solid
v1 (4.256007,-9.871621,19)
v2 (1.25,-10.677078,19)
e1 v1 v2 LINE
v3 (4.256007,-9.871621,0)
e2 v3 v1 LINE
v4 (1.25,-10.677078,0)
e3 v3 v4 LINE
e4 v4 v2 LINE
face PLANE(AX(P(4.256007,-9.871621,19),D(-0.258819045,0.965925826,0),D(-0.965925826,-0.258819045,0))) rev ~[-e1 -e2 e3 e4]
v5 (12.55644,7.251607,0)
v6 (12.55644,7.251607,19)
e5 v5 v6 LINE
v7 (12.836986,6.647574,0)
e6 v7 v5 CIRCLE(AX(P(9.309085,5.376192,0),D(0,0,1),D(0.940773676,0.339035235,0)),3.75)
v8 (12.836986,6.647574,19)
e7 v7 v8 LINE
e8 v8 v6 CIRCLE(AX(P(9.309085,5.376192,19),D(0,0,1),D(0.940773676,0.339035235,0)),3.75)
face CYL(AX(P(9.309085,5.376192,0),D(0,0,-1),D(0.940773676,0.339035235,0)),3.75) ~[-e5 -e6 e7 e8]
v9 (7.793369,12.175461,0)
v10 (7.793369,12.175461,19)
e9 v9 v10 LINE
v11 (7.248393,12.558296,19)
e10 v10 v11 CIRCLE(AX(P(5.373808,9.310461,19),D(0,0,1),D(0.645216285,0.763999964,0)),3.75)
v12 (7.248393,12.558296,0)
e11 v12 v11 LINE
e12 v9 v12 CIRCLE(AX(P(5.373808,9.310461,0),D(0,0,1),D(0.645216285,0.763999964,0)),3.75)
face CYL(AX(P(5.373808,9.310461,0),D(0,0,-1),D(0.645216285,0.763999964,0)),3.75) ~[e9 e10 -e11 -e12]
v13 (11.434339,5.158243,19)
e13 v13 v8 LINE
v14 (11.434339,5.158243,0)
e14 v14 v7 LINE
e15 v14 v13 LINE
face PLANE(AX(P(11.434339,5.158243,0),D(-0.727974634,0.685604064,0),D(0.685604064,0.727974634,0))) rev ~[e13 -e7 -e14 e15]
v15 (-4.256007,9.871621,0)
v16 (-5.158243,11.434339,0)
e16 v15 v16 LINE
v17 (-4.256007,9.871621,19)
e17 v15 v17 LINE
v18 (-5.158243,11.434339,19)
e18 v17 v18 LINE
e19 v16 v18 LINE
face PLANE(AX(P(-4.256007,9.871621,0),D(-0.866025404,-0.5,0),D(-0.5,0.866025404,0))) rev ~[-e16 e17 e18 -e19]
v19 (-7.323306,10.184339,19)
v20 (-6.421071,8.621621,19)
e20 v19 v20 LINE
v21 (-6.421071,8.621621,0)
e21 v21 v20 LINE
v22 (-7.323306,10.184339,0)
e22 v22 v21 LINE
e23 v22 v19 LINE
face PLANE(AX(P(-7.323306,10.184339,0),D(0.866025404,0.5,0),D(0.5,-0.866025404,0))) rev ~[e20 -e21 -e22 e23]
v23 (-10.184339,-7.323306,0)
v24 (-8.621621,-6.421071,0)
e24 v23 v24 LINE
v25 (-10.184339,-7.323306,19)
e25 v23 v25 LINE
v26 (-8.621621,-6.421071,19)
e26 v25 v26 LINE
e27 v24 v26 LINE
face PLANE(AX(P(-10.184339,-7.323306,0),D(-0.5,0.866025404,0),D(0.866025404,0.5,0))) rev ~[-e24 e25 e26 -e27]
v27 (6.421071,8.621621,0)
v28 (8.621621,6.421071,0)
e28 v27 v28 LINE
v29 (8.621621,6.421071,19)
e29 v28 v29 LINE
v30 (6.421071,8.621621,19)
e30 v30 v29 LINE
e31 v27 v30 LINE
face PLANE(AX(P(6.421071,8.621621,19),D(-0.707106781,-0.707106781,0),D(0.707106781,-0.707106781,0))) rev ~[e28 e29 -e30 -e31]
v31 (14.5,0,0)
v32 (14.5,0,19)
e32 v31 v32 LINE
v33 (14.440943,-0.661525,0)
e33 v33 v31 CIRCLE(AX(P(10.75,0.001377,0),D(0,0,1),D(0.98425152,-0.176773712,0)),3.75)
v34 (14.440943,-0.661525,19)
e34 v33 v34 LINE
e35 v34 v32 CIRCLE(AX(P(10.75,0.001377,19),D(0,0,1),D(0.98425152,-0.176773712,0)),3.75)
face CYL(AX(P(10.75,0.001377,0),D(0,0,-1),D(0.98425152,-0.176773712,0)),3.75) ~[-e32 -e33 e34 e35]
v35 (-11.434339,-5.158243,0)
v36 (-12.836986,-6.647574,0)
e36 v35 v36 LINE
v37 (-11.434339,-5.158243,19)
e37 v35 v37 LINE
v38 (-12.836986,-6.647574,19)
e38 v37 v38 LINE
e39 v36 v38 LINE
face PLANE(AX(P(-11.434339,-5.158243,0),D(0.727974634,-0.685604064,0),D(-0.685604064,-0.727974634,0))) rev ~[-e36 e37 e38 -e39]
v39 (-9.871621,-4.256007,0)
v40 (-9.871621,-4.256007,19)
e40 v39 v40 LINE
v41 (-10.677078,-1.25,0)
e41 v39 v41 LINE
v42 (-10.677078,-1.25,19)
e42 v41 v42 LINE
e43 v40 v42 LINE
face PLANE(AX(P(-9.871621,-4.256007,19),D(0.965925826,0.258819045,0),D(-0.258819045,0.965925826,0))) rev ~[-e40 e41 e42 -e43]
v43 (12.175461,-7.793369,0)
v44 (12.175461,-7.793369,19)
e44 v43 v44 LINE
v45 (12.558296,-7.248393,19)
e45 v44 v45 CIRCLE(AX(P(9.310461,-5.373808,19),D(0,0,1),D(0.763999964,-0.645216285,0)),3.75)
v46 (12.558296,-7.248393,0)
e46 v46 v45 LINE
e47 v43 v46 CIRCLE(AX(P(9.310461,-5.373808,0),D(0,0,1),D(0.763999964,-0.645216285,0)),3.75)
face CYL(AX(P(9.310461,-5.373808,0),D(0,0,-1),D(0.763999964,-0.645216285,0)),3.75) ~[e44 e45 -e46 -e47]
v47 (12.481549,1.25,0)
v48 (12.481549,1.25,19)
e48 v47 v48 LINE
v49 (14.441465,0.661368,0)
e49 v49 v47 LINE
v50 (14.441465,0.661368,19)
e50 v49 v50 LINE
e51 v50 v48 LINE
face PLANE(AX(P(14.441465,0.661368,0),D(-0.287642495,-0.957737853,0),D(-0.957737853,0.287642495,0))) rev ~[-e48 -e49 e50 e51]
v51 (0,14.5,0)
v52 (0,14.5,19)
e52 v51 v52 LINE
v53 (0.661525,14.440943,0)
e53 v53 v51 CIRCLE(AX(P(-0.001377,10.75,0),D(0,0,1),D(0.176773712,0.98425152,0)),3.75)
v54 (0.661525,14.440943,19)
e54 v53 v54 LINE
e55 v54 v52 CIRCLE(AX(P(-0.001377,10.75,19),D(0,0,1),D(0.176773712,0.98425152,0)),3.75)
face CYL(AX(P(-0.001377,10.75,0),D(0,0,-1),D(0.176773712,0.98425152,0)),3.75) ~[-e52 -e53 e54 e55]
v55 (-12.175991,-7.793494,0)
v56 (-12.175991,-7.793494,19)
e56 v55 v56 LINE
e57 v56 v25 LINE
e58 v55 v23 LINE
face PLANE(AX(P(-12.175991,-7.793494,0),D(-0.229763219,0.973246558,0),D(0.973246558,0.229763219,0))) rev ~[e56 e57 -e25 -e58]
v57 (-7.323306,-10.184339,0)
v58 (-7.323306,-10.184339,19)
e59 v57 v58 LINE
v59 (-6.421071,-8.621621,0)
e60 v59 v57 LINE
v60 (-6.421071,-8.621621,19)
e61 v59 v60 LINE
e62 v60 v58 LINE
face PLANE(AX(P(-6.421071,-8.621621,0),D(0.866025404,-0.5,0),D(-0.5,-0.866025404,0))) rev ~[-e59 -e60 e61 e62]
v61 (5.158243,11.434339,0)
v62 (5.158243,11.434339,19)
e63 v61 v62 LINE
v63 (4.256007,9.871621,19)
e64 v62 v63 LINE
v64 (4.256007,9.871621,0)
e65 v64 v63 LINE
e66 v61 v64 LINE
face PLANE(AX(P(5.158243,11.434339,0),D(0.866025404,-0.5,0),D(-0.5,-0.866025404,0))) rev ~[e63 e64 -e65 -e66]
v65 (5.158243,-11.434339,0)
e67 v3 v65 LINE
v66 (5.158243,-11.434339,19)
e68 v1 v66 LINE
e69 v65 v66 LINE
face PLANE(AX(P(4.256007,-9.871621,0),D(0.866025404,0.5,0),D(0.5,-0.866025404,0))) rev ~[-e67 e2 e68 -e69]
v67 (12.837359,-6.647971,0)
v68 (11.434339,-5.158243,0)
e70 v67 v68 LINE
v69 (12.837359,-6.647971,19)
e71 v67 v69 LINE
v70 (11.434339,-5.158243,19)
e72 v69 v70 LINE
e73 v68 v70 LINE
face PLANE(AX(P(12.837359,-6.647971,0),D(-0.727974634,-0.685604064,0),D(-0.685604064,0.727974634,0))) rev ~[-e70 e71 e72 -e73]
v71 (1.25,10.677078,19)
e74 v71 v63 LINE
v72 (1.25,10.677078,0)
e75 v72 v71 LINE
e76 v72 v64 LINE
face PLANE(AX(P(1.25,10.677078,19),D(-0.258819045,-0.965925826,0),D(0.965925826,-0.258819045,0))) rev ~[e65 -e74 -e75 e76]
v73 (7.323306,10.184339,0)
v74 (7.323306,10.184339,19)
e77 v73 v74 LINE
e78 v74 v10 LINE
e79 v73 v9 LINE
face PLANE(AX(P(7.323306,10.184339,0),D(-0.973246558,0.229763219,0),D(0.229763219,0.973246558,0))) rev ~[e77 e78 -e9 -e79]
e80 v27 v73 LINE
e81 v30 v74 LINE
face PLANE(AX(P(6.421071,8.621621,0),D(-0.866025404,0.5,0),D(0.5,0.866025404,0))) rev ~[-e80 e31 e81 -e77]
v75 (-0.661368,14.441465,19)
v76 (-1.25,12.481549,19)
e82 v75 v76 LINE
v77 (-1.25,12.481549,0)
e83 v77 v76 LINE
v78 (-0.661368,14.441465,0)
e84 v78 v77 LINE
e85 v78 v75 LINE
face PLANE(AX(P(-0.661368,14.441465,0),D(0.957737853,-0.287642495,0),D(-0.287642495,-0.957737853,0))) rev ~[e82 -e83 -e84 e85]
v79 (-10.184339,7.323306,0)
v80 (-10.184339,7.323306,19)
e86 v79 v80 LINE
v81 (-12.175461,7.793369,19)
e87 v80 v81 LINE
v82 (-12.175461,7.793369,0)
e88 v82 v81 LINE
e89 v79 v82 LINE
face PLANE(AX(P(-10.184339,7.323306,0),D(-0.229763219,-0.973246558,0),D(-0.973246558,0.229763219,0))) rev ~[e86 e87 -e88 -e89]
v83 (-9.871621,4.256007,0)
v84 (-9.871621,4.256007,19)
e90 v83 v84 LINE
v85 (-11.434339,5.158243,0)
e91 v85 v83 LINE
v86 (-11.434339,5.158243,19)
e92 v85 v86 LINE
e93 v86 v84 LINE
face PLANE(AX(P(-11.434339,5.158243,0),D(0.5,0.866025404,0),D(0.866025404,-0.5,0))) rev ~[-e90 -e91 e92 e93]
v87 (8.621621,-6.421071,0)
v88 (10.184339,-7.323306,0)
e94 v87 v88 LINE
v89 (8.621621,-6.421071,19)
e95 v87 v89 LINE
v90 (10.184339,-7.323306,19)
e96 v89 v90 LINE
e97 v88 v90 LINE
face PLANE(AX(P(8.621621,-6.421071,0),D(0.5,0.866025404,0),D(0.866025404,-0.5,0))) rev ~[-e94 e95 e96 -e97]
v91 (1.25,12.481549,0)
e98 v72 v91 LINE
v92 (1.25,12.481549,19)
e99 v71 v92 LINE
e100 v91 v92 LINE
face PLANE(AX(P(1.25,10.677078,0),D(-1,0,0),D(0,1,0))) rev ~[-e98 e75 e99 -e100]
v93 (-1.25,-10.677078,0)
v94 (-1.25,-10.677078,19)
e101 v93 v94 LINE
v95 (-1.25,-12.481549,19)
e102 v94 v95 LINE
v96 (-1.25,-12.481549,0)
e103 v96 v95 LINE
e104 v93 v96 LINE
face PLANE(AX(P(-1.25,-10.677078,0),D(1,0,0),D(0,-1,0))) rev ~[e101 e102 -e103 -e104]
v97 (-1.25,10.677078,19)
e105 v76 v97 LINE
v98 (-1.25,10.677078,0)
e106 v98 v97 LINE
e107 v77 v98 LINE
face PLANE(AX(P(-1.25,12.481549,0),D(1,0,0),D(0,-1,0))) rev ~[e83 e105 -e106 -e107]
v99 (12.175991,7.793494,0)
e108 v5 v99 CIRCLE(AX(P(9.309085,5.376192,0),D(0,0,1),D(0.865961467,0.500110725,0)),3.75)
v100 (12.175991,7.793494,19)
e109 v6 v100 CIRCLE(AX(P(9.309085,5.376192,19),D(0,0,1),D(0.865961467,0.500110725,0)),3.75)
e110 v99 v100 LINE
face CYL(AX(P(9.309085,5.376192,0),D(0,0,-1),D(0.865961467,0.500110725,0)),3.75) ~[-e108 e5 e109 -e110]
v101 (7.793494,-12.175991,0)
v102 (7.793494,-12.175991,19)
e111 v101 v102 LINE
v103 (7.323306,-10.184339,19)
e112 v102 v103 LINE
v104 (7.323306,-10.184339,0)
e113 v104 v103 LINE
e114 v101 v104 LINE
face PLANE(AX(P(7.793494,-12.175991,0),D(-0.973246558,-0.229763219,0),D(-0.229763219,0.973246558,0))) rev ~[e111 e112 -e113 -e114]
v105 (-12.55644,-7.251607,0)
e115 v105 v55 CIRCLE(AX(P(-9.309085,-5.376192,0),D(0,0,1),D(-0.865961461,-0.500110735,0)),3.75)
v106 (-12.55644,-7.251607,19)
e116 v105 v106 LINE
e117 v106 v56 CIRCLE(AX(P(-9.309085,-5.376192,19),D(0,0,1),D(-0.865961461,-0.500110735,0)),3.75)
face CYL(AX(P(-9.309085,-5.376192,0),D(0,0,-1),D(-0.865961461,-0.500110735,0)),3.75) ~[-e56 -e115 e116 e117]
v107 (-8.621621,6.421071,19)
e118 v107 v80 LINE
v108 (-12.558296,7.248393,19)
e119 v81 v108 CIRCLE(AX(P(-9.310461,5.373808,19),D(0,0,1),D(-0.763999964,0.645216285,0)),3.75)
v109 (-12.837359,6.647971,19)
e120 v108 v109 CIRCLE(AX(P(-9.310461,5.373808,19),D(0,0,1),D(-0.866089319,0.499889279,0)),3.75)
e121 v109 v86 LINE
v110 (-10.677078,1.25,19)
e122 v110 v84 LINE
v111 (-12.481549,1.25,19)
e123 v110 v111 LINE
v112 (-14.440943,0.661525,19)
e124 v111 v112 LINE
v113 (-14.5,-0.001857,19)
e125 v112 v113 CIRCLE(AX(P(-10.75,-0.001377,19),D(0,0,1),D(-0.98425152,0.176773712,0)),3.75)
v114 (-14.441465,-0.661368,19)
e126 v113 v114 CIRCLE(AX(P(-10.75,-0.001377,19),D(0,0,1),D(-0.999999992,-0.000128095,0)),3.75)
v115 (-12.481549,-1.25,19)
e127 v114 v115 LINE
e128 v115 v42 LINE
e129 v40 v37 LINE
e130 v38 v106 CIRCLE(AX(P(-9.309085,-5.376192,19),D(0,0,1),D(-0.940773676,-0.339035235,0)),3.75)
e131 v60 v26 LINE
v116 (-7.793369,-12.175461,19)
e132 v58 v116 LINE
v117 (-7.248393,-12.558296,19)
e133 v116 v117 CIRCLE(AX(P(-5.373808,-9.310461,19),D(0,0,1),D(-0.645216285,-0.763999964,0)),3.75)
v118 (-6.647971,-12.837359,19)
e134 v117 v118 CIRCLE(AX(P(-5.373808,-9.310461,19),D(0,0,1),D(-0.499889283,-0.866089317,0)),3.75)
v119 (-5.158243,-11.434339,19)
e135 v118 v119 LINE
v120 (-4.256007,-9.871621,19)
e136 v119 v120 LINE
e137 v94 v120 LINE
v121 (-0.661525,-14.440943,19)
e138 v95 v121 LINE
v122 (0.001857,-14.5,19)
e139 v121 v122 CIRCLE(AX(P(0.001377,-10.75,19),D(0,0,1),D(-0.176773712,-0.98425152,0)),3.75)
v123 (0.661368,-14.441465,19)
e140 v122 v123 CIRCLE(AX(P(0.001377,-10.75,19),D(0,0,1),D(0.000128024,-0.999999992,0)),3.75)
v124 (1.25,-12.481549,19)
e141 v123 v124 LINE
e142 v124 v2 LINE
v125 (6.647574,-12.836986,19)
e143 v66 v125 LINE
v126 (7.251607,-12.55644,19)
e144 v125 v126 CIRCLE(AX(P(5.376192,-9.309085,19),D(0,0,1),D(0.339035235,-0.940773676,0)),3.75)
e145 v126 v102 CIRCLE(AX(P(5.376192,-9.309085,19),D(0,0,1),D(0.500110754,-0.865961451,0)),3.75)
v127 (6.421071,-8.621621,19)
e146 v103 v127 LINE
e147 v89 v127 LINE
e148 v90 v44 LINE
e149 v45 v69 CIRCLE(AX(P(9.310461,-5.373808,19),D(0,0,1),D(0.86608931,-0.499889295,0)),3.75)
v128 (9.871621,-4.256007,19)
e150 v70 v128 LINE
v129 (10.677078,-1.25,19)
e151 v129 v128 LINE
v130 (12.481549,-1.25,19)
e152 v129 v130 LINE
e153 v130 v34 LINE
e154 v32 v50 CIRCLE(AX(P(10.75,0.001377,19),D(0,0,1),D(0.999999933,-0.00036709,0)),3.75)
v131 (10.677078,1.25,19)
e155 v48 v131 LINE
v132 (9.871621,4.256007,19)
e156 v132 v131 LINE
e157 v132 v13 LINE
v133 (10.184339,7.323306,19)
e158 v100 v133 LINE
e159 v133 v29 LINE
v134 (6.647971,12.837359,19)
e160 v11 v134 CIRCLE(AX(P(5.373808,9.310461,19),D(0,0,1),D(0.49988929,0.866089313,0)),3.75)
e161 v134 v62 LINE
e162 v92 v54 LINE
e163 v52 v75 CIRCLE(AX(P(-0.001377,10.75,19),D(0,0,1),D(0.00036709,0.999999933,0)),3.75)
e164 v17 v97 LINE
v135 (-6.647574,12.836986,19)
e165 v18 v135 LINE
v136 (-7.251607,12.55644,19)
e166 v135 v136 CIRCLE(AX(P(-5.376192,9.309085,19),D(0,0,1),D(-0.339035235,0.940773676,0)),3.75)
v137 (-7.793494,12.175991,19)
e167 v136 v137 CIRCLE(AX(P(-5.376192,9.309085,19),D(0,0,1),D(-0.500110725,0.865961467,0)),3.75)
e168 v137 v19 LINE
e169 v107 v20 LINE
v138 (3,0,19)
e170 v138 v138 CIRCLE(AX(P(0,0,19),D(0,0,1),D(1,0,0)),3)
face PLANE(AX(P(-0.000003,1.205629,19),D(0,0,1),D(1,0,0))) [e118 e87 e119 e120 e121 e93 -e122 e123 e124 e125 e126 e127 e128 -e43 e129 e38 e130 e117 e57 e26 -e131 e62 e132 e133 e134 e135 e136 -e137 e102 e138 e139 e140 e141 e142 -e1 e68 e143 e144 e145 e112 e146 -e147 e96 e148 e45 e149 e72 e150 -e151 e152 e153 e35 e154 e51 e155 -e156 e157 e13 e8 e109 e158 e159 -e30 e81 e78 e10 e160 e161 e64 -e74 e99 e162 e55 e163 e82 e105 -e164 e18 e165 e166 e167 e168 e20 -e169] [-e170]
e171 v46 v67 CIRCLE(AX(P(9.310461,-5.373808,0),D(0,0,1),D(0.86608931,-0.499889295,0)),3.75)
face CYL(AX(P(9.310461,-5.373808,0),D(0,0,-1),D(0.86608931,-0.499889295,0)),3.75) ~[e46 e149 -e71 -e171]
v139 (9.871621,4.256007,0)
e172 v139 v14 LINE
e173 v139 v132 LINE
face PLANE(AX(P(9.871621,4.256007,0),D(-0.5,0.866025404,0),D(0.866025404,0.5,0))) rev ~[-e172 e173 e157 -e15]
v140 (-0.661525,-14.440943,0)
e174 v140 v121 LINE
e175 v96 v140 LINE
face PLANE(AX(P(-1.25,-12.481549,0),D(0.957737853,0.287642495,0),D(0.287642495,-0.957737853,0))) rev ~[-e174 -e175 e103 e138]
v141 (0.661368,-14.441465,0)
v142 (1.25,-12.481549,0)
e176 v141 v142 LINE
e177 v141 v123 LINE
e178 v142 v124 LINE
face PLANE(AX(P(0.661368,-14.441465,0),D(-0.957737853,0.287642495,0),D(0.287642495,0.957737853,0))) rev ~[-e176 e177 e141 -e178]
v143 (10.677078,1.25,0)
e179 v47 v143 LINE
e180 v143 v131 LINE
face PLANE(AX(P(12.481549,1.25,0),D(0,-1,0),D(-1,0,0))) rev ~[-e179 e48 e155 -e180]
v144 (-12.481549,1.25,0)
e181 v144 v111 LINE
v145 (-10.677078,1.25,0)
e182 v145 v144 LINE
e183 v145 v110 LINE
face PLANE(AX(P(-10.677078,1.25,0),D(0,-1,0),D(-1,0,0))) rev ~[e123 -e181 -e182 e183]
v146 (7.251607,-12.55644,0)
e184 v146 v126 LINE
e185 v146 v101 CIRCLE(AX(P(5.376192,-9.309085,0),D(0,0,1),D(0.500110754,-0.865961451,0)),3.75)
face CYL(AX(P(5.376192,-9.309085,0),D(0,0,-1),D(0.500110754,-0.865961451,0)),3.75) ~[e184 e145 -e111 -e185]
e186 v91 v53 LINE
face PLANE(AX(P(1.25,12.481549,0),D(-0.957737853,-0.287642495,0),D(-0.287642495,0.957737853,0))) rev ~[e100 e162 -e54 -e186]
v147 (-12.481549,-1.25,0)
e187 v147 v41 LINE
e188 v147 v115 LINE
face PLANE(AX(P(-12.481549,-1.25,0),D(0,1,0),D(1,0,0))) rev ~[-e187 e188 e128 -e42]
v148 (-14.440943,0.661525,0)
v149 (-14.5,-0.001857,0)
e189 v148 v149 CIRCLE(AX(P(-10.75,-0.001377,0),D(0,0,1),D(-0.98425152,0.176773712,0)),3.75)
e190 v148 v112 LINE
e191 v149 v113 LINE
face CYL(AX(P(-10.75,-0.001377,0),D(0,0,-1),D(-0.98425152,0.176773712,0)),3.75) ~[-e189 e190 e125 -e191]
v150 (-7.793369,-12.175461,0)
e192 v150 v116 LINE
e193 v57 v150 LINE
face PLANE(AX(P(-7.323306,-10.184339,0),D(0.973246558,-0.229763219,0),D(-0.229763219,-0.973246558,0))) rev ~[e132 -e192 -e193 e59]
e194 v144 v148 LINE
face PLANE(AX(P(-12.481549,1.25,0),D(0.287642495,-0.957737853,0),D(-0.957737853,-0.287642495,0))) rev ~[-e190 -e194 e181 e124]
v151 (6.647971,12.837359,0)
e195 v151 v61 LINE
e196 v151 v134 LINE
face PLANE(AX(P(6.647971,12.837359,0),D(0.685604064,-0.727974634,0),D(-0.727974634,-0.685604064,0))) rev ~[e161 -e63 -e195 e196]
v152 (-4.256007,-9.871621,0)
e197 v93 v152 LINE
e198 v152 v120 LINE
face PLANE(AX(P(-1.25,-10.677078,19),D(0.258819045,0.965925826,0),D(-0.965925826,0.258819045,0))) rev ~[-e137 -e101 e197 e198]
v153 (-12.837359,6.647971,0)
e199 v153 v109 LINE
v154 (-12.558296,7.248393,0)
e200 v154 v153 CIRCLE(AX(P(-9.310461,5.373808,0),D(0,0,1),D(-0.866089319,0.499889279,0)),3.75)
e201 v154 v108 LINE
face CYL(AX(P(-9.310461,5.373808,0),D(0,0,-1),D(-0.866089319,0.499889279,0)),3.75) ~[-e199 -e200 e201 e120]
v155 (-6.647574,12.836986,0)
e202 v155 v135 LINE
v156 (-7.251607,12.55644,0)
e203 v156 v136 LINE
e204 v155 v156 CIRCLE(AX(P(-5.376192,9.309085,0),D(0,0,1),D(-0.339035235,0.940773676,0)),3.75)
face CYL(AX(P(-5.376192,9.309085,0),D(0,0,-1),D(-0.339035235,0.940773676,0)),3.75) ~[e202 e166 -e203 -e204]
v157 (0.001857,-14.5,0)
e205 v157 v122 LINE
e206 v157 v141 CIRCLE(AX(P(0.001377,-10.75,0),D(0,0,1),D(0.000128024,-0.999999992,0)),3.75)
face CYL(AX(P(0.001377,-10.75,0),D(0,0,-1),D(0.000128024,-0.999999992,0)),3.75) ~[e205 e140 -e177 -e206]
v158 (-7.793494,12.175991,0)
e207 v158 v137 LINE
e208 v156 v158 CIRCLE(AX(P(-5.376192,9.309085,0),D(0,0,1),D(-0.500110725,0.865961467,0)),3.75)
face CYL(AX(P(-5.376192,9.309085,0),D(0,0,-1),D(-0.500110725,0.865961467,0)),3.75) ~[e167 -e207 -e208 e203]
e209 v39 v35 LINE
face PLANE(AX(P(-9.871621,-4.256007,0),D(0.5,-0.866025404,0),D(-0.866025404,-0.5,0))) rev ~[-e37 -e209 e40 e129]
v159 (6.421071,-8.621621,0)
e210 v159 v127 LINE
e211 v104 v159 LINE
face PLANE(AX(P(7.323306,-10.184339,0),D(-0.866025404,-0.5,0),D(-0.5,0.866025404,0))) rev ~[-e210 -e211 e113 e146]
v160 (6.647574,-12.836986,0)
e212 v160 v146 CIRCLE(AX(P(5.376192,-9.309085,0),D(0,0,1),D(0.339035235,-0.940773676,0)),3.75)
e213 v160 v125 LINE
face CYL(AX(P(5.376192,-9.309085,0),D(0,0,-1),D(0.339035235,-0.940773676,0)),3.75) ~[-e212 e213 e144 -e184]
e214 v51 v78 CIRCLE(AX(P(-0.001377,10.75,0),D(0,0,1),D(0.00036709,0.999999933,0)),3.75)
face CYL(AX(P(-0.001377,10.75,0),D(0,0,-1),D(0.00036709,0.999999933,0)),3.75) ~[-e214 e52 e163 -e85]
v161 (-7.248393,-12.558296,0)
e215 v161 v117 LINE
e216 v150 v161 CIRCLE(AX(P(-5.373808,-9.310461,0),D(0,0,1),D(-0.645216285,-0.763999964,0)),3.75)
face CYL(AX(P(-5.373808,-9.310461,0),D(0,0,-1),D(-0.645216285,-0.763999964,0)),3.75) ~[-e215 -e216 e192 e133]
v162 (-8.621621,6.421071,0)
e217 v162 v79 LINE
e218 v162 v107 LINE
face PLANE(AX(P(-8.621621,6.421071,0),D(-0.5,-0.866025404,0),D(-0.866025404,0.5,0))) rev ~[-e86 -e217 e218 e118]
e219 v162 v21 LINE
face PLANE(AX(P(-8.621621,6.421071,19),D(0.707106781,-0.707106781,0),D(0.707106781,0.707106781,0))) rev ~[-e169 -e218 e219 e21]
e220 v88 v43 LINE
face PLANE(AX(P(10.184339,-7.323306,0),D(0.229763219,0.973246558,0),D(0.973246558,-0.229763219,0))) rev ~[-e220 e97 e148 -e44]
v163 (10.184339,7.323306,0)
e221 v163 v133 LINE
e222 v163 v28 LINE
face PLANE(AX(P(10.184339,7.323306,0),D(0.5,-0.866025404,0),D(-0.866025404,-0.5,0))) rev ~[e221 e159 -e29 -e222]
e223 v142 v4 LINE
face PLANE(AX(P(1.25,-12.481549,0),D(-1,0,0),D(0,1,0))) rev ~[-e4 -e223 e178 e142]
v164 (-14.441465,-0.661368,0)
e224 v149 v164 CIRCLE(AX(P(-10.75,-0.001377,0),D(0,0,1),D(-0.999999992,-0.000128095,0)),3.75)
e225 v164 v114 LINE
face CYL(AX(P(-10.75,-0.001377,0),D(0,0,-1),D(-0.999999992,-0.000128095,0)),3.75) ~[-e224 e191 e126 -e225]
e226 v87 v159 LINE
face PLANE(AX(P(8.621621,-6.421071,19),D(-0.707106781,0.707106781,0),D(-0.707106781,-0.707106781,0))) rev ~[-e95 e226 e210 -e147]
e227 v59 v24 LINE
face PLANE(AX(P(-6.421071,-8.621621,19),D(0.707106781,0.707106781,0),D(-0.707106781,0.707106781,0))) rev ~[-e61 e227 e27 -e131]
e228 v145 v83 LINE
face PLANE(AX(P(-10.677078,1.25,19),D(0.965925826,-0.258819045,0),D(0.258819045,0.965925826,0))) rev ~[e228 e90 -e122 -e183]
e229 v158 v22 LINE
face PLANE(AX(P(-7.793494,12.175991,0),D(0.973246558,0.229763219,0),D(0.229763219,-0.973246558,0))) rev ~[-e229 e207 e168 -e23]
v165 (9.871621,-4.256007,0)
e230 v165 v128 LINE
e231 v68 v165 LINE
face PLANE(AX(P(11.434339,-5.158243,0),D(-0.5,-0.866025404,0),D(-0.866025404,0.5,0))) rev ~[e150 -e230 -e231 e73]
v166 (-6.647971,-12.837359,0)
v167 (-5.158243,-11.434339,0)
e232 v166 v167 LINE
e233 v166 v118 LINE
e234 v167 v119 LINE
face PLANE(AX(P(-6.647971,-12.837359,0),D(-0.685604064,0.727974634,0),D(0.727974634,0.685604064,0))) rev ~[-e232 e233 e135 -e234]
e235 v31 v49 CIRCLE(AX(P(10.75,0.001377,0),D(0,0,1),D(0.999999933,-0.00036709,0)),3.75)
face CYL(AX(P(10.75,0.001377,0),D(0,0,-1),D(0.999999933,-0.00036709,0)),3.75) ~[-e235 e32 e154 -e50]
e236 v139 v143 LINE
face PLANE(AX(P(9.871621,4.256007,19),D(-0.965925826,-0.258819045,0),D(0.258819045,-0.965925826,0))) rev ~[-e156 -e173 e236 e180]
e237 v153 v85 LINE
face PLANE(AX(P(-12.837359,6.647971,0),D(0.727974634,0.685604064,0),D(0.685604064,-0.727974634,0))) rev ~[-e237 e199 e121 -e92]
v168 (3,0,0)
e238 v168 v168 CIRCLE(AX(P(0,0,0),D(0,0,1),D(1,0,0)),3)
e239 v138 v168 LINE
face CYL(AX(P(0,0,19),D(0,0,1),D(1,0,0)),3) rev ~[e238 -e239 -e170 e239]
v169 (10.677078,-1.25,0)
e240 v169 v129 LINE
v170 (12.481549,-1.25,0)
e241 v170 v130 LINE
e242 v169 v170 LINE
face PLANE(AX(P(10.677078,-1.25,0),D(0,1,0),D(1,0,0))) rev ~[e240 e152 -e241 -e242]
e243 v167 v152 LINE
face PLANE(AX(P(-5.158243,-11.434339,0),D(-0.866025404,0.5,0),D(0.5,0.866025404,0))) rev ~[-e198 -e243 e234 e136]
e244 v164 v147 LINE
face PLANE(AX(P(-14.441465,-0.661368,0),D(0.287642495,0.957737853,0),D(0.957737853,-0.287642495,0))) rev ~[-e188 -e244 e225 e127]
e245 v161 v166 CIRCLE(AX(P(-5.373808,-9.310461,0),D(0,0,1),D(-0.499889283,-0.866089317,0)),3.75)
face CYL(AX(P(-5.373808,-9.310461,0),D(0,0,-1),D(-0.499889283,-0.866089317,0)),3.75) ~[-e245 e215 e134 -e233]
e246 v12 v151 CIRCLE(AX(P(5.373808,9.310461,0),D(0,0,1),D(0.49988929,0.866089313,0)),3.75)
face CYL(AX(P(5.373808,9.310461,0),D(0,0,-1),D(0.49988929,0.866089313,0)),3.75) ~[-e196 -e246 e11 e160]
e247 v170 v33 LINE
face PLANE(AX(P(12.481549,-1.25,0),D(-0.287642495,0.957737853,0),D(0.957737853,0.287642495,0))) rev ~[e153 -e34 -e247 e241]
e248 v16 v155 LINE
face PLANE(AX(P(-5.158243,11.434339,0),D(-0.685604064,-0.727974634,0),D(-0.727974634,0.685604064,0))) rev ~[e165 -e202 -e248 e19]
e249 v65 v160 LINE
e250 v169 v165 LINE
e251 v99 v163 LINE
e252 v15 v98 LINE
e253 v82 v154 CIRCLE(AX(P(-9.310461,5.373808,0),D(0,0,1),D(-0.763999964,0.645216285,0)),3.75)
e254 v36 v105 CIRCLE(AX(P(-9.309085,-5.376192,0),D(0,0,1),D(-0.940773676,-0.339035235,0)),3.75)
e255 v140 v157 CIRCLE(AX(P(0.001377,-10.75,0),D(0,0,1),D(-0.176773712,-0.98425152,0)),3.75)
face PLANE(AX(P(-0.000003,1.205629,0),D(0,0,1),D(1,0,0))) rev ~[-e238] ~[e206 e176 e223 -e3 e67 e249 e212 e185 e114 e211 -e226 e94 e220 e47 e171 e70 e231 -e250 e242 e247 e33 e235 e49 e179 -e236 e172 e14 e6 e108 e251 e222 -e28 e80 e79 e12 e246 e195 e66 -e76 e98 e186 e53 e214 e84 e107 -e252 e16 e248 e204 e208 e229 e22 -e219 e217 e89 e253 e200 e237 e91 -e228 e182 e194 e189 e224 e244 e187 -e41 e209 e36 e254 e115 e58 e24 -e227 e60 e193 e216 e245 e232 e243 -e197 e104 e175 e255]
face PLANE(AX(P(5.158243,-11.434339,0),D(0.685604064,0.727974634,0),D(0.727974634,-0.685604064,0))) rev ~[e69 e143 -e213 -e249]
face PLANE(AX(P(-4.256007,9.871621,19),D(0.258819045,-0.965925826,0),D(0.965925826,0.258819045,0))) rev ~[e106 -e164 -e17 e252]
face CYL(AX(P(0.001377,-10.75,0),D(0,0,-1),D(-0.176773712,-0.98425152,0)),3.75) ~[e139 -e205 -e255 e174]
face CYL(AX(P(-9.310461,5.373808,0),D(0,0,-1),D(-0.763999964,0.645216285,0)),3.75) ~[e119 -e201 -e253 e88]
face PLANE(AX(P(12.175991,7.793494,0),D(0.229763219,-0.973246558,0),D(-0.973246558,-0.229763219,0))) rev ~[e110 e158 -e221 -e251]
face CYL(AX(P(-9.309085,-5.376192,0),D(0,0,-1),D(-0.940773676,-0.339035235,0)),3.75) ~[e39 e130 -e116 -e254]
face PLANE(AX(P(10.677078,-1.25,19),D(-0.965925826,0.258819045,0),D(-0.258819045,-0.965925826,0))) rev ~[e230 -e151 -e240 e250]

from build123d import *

# Parameters (mm, degrees)
F1_DEPTH = 19
F2_R     = 3
F3_DEPTH = 19.001
F5_DEPTH = 19.001


with BuildPart() as f1:
    # F0 (on Top) → F1 (new body)
    with BuildSketch(Plane.XY):
        with BuildLine():
            ThreePointArc((0.6615248327, 14.4409431122), (0.3320724143, 14.4851453928), (-1e-10, 14.4999996592))
            ThreePointArc((-1e-10, 14.4999996592), (-0.3319821514, 14.4853981451), (-0.6613682325, 14.44146453))
            Line((-0.6613682325, 14.44146453), (-1.25, 12.4815492326))
            Line((-1.25, 12.4815492326), (-1.25, 10.677078252))
            ThreePointArc((-1.25, 10.677078252), (-2.7823047349, 10.3837026326), (-4.2560073713, 9.8716210045))
            ThreePointArc((-4.2560073713, 9.8716210045), (-5.375, 9.3097730907), (-6.4210708807, 8.6216210045))
            ThreePointArc((-6.4210708807, 8.6216210045), (-7.6013978978, 7.6013978978), (-8.6216210045, 6.4210708807))
            ThreePointArc((-8.6216210045, 6.4210708807), (-9.3097730907, 5.375), (-9.8716210045, 4.2560073713))
            ThreePointArc((-9.8716210045, 4.2560073713), (-10.3837026326, 2.7823047349), (-10.677078252, 1.25))
            ThreePointArc((-10.677078252, 1.25), (-10.75, 0), (-10.677078252, -1.25))
            ThreePointArc((-10.677078252, -1.25), (-10.3837026326, -2.7823047349), (-9.8716210045, -4.2560073713))
            ThreePointArc((-9.8716210045, -4.2560073713), (-9.3097730907, -5.375), (-8.6216210045, -6.4210708807))
            ThreePointArc((-8.6216210045, -6.4210708807), (-7.6013978978, -7.6013978978), (-6.4210708807, -8.6216210045))
            ThreePointArc((-6.4210708807, -8.6216210045), (-5.375, -9.3097730907), (-4.2560073713, -9.8716210045))
            ThreePointArc((-4.2560073713, -9.8716210045), (-2.7823047349, -10.3837026326), (-1.25, -10.677078252))
            ThreePointArc((-1.25, -10.677078252), (0, -10.75), (1.25, -10.677078252))
            ThreePointArc((1.25, -10.677078252), (2.7823047349, -10.3837026326), (4.2560073713, -9.8716210045))
            ThreePointArc((4.2560073713, -9.8716210045), (5.375, -9.3097730907), (6.4210708807, -8.6216210045))
            ThreePointArc((6.4210708807, -8.6216210045), (7.6013978978, -7.6013978978), (8.6216210045, -6.4210708807))
            ThreePointArc((8.6216210045, -6.4210708807), (9.3097730907, -5.375), (9.8716210045, -4.2560073713))
            ThreePointArc((9.8716210045, -4.2560073713), (10.3837026326, -2.7823047349), (10.677078252, -1.25))
            ThreePointArc((10.677078252, -1.25), (10.75, 0), (10.677078252, 1.25))
            ThreePointArc((10.677078252, 1.25), (10.3837026326, 2.7823047349), (9.8716210045, 4.2560073713))
            ThreePointArc((9.8716210045, 4.2560073713), (9.3097730907, 5.375), (8.6216210045, 6.4210708807))
            ThreePointArc((8.6216210045, 6.4210708807), (7.6013978978, 7.6013978978), (6.4210708807, 8.6216210045))
            ThreePointArc((6.4210708807, 8.6216210045), (5.375, 9.3097730907), (4.2560073713, 9.8716210045))
            ThreePointArc((4.2560073713, 9.8716210045), (2.7823047349, 10.3837026326), (1.25, 10.677078252))
            Line((1.25, 10.677078252), (1.25, 12.4815492326))
            Line((1.25, 12.4815492326), (0.6615248327, 14.4409431122))
        make_face()
        with BuildLine():
            ThreePointArc((-6.6475742458, 12.8369860061), (-6.9558312731, 12.7101492794), (-7.2516073314, 12.5564402245))
            ThreePointArc((-7.2516073314, 12.5564402245), (-7.530963641, 12.3781985459), (-7.7934939556, 12.1759910346))
            Line((-7.7934939556, 12.1759910346), (-7.323306371, 10.184338714))
            Line((-7.323306371, 10.184338714), (-6.4210708807, 8.6216210045))
            ThreePointArc((-6.4210708807, 8.6216210045), (-5.375, 9.3097730907), (-4.2560073713, 9.8716210045))
            Line((-4.2560073713, 9.8716210045), (-5.1582428616, 11.434338714))
            Line((-5.1582428616, 11.434338714), (-6.6475742458, 12.8369860061))
        make_face()
        with BuildLine():
            ThreePointArc((-12.1754611735, 7.7933688665), (-12.3790012127, 7.5293965451), (-12.5582962553, 7.2483925918))
            ThreePointArc((-12.5582962553, 7.2483925918), (-12.7111050909, 6.9543525953), (-12.8373592671, 6.6479705744))
            Line((-12.8373592671, 6.6479705744), (-11.434338714, 5.1582428616))
            Line((-11.434338714, 5.1582428616), (-9.8716210045, 4.2560073713))
            ThreePointArc((-9.8716210045, 4.2560073713), (-9.3097730907, 5.375), (-8.6216210045, 6.4210708807))
            Line((-8.6216210045, 6.4210708807), (-10.184338714, 7.323306371))
            Line((-10.184338714, 7.323306371), (-12.1754611735, 7.7933688665))
        make_face()
        with BuildLine():
            ThreePointArc((-14.4409431122, 0.6615248327), (-14.4852278378, 0.3311476102), (-14.4999998811, -0.0018569436))
            ThreePointArc((-14.4999998811, -0.0018569436), (-14.4853161751, -0.3329069977), (-14.44146453, -0.6613682325))
            Line((-14.44146453, -0.6613682325), (-12.4815492326, -1.25))
            Line((-12.4815492326, -1.25), (-10.677078252, -1.25))
            ThreePointArc((-10.677078252, -1.25), (-10.75, 0), (-10.677078252, 1.25))
            Line((-10.677078252, 1.25), (-12.4815492326, 1.25))
            Line((-12.4815492326, 1.25), (-14.4409431122, 0.6615248327))
        make_face()
        with BuildLine():
            ThreePointArc((7.7933688665, 12.1754611735), (7.5293965654, 12.3790011985), (7.2483926348, 12.5582962304))
            ThreePointArc((7.2483926348, 12.5582962304), (6.9543526178, 12.7111050804), (6.6479705744, 12.8373592671))
            Line((6.6479705744, 12.8373592671), (5.1582428616, 11.434338714))
            Line((5.1582428616, 11.434338714), (4.2560073713, 9.8716210045))
            ThreePointArc((4.2560073713, 9.8716210045), (5.375, 9.3097730907), (6.4210708807, 8.6216210045))
            Line((6.4210708807, 8.6216210045), (7.323306371, 10.184338714))
            Line((7.323306371, 10.184338714), (7.7933688665, 12.1754611735))
        make_face()
        with BuildLine():
            ThreePointArc((12.8369860061, 6.6475742458), (12.7101492794, 6.9558312731), (12.5564402245, 7.2516073314))
            ThreePointArc((12.5564402245, 7.2516073314), (12.3781985459, 7.530963641), (12.1759910346, 7.7934939556))
            Line((12.1759910346, 7.7934939556), (10.184338714, 7.323306371))
            Line((10.184338714, 7.323306371), (8.6216210045, 6.4210708807))
            ThreePointArc((8.6216210045, 6.4210708807), (9.3097730907, 5.375), (9.8716210045, 4.2560073713))
            Line((9.8716210045, 4.2560073713), (11.434338714, 5.1582428616))
            Line((11.434338714, 5.1582428616), (12.8369860061, 6.6475742458))
        make_face()
        with BuildLine():
            ThreePointArc((14.4409431122, -0.6615248327), (14.4851453928, -0.3320724143), (14.4999996592, 1e-10))
            ThreePointArc((14.4999996592, 1e-10), (14.4853981451, 0.3319821514), (14.44146453, 0.6613682325))
            Line((14.44146453, 0.6613682325), (12.4815492326, 1.25))
            Line((12.4815492326, 1.25), (10.677078252, 1.25))
            ThreePointArc((10.677078252, 1.25), (10.75, 0), (10.677078252, -1.25))
            Line((10.677078252, -1.25), (12.4815492326, -1.25))
            Line((12.4815492326, -1.25), (14.4409431122, -0.6615248327))
        make_face()
        with BuildLine():
            ThreePointArc((-0.6615248327, -14.4409431122), (-0.3311477424, -14.485227826), (0.0018566781, -14.4999998811))
            ThreePointArc((0.0018566781, -14.4999998811), (0.3329068655, -14.4853161868), (0.6613682325, -14.44146453))
            Line((0.6613682325, -14.44146453), (1.25, -12.4815492326))
            Line((1.25, -12.4815492326), (1.25, -10.677078252))
            ThreePointArc((1.25, -10.677078252), (0, -10.75), (-1.25, -10.677078252))
            Line((-1.25, -10.677078252), (-1.25, -12.4815492326))
            Line((-1.25, -12.4815492326), (-0.6615248327, -14.4409431122))
        make_face()
        with BuildLine():
            ThreePointArc((-7.7933688665, -12.1754611735), (-7.5293965528, -12.3790012073), (-7.2483926082, -12.5582962458))
            ThreePointArc((-7.2483926082, -12.5582962458), (-6.9543526039, -12.7111050869), (-6.6479705744, -12.8373592671))
            Line((-6.6479705744, -12.8373592671), (-5.1582428616, -11.434338714))
            Line((-5.1582428616, -11.434338714), (-4.2560073713, -9.8716210045))
            ThreePointArc((-4.2560073713, -9.8716210045), (-5.375, -9.3097730907), (-6.4210708807, -8.6216210045))
            Line((-6.4210708807, -8.6216210045), (-7.323306371, -10.184338714))
            Line((-7.323306371, -10.184338714), (-7.7933688665, -12.1754611735))
        make_face()
        with BuildLine():
            ThreePointArc((-12.8369860061, -6.6475742458), (-12.7101492695, -6.9558312944), (-12.5564402011, -7.251607372))
            ThreePointArc((-12.5564402011, -7.251607372), (-12.3781985325, -7.5309636602), (-12.1759910346, -7.7934939556))
            Line((-12.1759910346, -7.7934939556), (-10.184338714, -7.323306371))
            Line((-10.184338714, -7.323306371), (-8.6216210045, -6.4210708807))
            ThreePointArc((-8.6216210045, -6.4210708807), (-9.3097730907, -5.375), (-9.8716210045, -4.2560073713))
            Line((-9.8716210045, -4.2560073713), (-11.434338714, -5.1582428616))
            Line((-11.434338714, -5.1582428616), (-12.8369860061, -6.6475742458))
        make_face()
        with BuildLine():
            ThreePointArc((12.1754611735, -7.7933688665), (12.3790011928, -7.5293965734), (12.5582962206, -7.2483926518))
            ThreePointArc((12.5582962206, -7.2483926518), (12.7111050763, -6.9543526268), (12.8373592671, -6.6479705744))
            Line((12.8373592671, -6.6479705744), (11.434338714, -5.1582428616))
            Line((11.434338714, -5.1582428616), (9.8716210045, -4.2560073713))
            ThreePointArc((9.8716210045, -4.2560073713), (9.3097730907, -5.375), (8.6216210045, -6.4210708807))
            Line((8.6216210045, -6.4210708807), (10.184338714, -7.323306371))
            Line((10.184338714, -7.323306371), (12.1754611735, -7.7933688665))
        make_face()
        with BuildLine():
            ThreePointArc((6.6475742458, -12.8369860061), (6.9558313313, -12.7101492523), (7.2516074425, -12.5564401603))
            ThreePointArc((7.2516074425, -12.5564401603), (7.5309636935, -12.3781985091), (7.7934939556, -12.1759910346))
            Line((7.7934939556, -12.1759910346), (7.323306371, -10.184338714))
            Line((7.323306371, -10.184338714), (6.4210708807, -8.6216210045))
            ThreePointArc((6.4210708807, -8.6216210045), (5.375, -9.3097730907), (4.2560073713, -9.8716210045))
            Line((4.2560073713, -9.8716210045), (5.1582428616, -11.434338714))
            Line((5.1582428616, -11.434338714), (6.6475742458, -12.8369860061))
        make_face()
    extrude(amount=F1_DEPTH)

    # F2 (on face) → F3 (cut, through all)
    with BuildSketch(Plane.XY.offset(19)):
        Circle(F2_R)
    extrude(amount=-F3_DEPTH, mode=Mode.SUBTRACT)

    # F4 (on face) → F5 (cut, through all)
    with BuildSketch(Plane.XY.offset(19)):
        with BuildLine():
            Line((-10.677078252, 1.25), (-9.8716210045, 4.2560073713))
            ThreePointArc((-9.8716210045, 4.2560073713), (-10.3837026326, 2.7823047349), (-10.677078252, 1.25))
        make_face()
        with BuildLine():
            Line((-9.8716210045, -4.2560073713), (-10.677078252, -1.25))
            ThreePointArc((-10.677078252, -1.25), (-10.3837026326, -2.7823047349), (-9.8716210045, -4.2560073713))
        make_face()
        with BuildLine():
            Line((-8.6216210045, 6.4210708807), (-6.4210708807, 8.6216210045))
            ThreePointArc((-6.4210708807, 8.6216210045), (-7.6013978978, 7.6013978978), (-8.6216210045, 6.4210708807))
        make_face()
        with BuildLine():
            Line((-4.2560073713, 9.8716210045), (-1.25, 10.677078252))
            ThreePointArc((-1.25, 10.677078252), (-2.7823047349, 10.3837026326), (-4.2560073713, 9.8716210045))
        make_face()
        with BuildLine():
            ThreePointArc((4.2560073713, 9.8716210045), (2.7823047349, 10.3837026326), (1.25, 10.677078252))
            Line((1.25, 10.677078252), (4.2560073713, 9.8716210045))
        make_face()
        with BuildLine():
            ThreePointArc((8.6216210045, 6.4210708807), (7.6013978978, 7.6013978978), (6.4210708807, 8.6216210045))
            Line((6.4210708807, 8.6216210045), (8.6216210045, 6.4210708807))
        make_face()
        with BuildLine():
            ThreePointArc((10.677078252, 1.25), (10.3837026326, 2.7823047349), (9.8716210045, 4.2560073713))
            Line((9.8716210045, 4.2560073713), (10.677078252, 1.25))
        make_face()
        with BuildLine():
            ThreePointArc((9.8716210045, -4.2560073713), (10.3837026326, -2.7823047349), (10.677078252, -1.25))
            Line((10.677078252, -1.25), (9.8716210045, -4.2560073713))
        make_face()
        with BuildLine():
            ThreePointArc((6.4210708807, -8.6216210045), (7.6013978978, -7.6013978978), (8.6216210045, -6.4210708807))
            Line((8.6216210045, -6.4210708807), (6.4210708807, -8.6216210045))
        make_face()
        with BuildLine():
            ThreePointArc((1.25, -10.677078252), (2.7823047349, -10.3837026326), (4.2560073713, -9.8716210045))
            Line((4.2560073713, -9.8716210045), (1.25, -10.677078252))
        make_face()
        with BuildLine():
            Line((-1.25, -10.677078252), (-4.2560073713, -9.8716210045))
            ThreePointArc((-4.2560073713, -9.8716210045), (-2.7823047349, -10.3837026326), (-1.25, -10.677078252))
        make_face()
        with BuildLine():
            Line((-6.4210708807, -8.6216210045), (-8.6216210045, -6.4210708807))
            ThreePointArc((-8.6216210045, -6.4210708807), (-7.6013978978, -7.6013978978), (-6.4210708807, -8.6216210045))
        make_face()
    extrude(amount=-F5_DEPTH, mode=Mode.SUBTRACT)


solid = f1.part
